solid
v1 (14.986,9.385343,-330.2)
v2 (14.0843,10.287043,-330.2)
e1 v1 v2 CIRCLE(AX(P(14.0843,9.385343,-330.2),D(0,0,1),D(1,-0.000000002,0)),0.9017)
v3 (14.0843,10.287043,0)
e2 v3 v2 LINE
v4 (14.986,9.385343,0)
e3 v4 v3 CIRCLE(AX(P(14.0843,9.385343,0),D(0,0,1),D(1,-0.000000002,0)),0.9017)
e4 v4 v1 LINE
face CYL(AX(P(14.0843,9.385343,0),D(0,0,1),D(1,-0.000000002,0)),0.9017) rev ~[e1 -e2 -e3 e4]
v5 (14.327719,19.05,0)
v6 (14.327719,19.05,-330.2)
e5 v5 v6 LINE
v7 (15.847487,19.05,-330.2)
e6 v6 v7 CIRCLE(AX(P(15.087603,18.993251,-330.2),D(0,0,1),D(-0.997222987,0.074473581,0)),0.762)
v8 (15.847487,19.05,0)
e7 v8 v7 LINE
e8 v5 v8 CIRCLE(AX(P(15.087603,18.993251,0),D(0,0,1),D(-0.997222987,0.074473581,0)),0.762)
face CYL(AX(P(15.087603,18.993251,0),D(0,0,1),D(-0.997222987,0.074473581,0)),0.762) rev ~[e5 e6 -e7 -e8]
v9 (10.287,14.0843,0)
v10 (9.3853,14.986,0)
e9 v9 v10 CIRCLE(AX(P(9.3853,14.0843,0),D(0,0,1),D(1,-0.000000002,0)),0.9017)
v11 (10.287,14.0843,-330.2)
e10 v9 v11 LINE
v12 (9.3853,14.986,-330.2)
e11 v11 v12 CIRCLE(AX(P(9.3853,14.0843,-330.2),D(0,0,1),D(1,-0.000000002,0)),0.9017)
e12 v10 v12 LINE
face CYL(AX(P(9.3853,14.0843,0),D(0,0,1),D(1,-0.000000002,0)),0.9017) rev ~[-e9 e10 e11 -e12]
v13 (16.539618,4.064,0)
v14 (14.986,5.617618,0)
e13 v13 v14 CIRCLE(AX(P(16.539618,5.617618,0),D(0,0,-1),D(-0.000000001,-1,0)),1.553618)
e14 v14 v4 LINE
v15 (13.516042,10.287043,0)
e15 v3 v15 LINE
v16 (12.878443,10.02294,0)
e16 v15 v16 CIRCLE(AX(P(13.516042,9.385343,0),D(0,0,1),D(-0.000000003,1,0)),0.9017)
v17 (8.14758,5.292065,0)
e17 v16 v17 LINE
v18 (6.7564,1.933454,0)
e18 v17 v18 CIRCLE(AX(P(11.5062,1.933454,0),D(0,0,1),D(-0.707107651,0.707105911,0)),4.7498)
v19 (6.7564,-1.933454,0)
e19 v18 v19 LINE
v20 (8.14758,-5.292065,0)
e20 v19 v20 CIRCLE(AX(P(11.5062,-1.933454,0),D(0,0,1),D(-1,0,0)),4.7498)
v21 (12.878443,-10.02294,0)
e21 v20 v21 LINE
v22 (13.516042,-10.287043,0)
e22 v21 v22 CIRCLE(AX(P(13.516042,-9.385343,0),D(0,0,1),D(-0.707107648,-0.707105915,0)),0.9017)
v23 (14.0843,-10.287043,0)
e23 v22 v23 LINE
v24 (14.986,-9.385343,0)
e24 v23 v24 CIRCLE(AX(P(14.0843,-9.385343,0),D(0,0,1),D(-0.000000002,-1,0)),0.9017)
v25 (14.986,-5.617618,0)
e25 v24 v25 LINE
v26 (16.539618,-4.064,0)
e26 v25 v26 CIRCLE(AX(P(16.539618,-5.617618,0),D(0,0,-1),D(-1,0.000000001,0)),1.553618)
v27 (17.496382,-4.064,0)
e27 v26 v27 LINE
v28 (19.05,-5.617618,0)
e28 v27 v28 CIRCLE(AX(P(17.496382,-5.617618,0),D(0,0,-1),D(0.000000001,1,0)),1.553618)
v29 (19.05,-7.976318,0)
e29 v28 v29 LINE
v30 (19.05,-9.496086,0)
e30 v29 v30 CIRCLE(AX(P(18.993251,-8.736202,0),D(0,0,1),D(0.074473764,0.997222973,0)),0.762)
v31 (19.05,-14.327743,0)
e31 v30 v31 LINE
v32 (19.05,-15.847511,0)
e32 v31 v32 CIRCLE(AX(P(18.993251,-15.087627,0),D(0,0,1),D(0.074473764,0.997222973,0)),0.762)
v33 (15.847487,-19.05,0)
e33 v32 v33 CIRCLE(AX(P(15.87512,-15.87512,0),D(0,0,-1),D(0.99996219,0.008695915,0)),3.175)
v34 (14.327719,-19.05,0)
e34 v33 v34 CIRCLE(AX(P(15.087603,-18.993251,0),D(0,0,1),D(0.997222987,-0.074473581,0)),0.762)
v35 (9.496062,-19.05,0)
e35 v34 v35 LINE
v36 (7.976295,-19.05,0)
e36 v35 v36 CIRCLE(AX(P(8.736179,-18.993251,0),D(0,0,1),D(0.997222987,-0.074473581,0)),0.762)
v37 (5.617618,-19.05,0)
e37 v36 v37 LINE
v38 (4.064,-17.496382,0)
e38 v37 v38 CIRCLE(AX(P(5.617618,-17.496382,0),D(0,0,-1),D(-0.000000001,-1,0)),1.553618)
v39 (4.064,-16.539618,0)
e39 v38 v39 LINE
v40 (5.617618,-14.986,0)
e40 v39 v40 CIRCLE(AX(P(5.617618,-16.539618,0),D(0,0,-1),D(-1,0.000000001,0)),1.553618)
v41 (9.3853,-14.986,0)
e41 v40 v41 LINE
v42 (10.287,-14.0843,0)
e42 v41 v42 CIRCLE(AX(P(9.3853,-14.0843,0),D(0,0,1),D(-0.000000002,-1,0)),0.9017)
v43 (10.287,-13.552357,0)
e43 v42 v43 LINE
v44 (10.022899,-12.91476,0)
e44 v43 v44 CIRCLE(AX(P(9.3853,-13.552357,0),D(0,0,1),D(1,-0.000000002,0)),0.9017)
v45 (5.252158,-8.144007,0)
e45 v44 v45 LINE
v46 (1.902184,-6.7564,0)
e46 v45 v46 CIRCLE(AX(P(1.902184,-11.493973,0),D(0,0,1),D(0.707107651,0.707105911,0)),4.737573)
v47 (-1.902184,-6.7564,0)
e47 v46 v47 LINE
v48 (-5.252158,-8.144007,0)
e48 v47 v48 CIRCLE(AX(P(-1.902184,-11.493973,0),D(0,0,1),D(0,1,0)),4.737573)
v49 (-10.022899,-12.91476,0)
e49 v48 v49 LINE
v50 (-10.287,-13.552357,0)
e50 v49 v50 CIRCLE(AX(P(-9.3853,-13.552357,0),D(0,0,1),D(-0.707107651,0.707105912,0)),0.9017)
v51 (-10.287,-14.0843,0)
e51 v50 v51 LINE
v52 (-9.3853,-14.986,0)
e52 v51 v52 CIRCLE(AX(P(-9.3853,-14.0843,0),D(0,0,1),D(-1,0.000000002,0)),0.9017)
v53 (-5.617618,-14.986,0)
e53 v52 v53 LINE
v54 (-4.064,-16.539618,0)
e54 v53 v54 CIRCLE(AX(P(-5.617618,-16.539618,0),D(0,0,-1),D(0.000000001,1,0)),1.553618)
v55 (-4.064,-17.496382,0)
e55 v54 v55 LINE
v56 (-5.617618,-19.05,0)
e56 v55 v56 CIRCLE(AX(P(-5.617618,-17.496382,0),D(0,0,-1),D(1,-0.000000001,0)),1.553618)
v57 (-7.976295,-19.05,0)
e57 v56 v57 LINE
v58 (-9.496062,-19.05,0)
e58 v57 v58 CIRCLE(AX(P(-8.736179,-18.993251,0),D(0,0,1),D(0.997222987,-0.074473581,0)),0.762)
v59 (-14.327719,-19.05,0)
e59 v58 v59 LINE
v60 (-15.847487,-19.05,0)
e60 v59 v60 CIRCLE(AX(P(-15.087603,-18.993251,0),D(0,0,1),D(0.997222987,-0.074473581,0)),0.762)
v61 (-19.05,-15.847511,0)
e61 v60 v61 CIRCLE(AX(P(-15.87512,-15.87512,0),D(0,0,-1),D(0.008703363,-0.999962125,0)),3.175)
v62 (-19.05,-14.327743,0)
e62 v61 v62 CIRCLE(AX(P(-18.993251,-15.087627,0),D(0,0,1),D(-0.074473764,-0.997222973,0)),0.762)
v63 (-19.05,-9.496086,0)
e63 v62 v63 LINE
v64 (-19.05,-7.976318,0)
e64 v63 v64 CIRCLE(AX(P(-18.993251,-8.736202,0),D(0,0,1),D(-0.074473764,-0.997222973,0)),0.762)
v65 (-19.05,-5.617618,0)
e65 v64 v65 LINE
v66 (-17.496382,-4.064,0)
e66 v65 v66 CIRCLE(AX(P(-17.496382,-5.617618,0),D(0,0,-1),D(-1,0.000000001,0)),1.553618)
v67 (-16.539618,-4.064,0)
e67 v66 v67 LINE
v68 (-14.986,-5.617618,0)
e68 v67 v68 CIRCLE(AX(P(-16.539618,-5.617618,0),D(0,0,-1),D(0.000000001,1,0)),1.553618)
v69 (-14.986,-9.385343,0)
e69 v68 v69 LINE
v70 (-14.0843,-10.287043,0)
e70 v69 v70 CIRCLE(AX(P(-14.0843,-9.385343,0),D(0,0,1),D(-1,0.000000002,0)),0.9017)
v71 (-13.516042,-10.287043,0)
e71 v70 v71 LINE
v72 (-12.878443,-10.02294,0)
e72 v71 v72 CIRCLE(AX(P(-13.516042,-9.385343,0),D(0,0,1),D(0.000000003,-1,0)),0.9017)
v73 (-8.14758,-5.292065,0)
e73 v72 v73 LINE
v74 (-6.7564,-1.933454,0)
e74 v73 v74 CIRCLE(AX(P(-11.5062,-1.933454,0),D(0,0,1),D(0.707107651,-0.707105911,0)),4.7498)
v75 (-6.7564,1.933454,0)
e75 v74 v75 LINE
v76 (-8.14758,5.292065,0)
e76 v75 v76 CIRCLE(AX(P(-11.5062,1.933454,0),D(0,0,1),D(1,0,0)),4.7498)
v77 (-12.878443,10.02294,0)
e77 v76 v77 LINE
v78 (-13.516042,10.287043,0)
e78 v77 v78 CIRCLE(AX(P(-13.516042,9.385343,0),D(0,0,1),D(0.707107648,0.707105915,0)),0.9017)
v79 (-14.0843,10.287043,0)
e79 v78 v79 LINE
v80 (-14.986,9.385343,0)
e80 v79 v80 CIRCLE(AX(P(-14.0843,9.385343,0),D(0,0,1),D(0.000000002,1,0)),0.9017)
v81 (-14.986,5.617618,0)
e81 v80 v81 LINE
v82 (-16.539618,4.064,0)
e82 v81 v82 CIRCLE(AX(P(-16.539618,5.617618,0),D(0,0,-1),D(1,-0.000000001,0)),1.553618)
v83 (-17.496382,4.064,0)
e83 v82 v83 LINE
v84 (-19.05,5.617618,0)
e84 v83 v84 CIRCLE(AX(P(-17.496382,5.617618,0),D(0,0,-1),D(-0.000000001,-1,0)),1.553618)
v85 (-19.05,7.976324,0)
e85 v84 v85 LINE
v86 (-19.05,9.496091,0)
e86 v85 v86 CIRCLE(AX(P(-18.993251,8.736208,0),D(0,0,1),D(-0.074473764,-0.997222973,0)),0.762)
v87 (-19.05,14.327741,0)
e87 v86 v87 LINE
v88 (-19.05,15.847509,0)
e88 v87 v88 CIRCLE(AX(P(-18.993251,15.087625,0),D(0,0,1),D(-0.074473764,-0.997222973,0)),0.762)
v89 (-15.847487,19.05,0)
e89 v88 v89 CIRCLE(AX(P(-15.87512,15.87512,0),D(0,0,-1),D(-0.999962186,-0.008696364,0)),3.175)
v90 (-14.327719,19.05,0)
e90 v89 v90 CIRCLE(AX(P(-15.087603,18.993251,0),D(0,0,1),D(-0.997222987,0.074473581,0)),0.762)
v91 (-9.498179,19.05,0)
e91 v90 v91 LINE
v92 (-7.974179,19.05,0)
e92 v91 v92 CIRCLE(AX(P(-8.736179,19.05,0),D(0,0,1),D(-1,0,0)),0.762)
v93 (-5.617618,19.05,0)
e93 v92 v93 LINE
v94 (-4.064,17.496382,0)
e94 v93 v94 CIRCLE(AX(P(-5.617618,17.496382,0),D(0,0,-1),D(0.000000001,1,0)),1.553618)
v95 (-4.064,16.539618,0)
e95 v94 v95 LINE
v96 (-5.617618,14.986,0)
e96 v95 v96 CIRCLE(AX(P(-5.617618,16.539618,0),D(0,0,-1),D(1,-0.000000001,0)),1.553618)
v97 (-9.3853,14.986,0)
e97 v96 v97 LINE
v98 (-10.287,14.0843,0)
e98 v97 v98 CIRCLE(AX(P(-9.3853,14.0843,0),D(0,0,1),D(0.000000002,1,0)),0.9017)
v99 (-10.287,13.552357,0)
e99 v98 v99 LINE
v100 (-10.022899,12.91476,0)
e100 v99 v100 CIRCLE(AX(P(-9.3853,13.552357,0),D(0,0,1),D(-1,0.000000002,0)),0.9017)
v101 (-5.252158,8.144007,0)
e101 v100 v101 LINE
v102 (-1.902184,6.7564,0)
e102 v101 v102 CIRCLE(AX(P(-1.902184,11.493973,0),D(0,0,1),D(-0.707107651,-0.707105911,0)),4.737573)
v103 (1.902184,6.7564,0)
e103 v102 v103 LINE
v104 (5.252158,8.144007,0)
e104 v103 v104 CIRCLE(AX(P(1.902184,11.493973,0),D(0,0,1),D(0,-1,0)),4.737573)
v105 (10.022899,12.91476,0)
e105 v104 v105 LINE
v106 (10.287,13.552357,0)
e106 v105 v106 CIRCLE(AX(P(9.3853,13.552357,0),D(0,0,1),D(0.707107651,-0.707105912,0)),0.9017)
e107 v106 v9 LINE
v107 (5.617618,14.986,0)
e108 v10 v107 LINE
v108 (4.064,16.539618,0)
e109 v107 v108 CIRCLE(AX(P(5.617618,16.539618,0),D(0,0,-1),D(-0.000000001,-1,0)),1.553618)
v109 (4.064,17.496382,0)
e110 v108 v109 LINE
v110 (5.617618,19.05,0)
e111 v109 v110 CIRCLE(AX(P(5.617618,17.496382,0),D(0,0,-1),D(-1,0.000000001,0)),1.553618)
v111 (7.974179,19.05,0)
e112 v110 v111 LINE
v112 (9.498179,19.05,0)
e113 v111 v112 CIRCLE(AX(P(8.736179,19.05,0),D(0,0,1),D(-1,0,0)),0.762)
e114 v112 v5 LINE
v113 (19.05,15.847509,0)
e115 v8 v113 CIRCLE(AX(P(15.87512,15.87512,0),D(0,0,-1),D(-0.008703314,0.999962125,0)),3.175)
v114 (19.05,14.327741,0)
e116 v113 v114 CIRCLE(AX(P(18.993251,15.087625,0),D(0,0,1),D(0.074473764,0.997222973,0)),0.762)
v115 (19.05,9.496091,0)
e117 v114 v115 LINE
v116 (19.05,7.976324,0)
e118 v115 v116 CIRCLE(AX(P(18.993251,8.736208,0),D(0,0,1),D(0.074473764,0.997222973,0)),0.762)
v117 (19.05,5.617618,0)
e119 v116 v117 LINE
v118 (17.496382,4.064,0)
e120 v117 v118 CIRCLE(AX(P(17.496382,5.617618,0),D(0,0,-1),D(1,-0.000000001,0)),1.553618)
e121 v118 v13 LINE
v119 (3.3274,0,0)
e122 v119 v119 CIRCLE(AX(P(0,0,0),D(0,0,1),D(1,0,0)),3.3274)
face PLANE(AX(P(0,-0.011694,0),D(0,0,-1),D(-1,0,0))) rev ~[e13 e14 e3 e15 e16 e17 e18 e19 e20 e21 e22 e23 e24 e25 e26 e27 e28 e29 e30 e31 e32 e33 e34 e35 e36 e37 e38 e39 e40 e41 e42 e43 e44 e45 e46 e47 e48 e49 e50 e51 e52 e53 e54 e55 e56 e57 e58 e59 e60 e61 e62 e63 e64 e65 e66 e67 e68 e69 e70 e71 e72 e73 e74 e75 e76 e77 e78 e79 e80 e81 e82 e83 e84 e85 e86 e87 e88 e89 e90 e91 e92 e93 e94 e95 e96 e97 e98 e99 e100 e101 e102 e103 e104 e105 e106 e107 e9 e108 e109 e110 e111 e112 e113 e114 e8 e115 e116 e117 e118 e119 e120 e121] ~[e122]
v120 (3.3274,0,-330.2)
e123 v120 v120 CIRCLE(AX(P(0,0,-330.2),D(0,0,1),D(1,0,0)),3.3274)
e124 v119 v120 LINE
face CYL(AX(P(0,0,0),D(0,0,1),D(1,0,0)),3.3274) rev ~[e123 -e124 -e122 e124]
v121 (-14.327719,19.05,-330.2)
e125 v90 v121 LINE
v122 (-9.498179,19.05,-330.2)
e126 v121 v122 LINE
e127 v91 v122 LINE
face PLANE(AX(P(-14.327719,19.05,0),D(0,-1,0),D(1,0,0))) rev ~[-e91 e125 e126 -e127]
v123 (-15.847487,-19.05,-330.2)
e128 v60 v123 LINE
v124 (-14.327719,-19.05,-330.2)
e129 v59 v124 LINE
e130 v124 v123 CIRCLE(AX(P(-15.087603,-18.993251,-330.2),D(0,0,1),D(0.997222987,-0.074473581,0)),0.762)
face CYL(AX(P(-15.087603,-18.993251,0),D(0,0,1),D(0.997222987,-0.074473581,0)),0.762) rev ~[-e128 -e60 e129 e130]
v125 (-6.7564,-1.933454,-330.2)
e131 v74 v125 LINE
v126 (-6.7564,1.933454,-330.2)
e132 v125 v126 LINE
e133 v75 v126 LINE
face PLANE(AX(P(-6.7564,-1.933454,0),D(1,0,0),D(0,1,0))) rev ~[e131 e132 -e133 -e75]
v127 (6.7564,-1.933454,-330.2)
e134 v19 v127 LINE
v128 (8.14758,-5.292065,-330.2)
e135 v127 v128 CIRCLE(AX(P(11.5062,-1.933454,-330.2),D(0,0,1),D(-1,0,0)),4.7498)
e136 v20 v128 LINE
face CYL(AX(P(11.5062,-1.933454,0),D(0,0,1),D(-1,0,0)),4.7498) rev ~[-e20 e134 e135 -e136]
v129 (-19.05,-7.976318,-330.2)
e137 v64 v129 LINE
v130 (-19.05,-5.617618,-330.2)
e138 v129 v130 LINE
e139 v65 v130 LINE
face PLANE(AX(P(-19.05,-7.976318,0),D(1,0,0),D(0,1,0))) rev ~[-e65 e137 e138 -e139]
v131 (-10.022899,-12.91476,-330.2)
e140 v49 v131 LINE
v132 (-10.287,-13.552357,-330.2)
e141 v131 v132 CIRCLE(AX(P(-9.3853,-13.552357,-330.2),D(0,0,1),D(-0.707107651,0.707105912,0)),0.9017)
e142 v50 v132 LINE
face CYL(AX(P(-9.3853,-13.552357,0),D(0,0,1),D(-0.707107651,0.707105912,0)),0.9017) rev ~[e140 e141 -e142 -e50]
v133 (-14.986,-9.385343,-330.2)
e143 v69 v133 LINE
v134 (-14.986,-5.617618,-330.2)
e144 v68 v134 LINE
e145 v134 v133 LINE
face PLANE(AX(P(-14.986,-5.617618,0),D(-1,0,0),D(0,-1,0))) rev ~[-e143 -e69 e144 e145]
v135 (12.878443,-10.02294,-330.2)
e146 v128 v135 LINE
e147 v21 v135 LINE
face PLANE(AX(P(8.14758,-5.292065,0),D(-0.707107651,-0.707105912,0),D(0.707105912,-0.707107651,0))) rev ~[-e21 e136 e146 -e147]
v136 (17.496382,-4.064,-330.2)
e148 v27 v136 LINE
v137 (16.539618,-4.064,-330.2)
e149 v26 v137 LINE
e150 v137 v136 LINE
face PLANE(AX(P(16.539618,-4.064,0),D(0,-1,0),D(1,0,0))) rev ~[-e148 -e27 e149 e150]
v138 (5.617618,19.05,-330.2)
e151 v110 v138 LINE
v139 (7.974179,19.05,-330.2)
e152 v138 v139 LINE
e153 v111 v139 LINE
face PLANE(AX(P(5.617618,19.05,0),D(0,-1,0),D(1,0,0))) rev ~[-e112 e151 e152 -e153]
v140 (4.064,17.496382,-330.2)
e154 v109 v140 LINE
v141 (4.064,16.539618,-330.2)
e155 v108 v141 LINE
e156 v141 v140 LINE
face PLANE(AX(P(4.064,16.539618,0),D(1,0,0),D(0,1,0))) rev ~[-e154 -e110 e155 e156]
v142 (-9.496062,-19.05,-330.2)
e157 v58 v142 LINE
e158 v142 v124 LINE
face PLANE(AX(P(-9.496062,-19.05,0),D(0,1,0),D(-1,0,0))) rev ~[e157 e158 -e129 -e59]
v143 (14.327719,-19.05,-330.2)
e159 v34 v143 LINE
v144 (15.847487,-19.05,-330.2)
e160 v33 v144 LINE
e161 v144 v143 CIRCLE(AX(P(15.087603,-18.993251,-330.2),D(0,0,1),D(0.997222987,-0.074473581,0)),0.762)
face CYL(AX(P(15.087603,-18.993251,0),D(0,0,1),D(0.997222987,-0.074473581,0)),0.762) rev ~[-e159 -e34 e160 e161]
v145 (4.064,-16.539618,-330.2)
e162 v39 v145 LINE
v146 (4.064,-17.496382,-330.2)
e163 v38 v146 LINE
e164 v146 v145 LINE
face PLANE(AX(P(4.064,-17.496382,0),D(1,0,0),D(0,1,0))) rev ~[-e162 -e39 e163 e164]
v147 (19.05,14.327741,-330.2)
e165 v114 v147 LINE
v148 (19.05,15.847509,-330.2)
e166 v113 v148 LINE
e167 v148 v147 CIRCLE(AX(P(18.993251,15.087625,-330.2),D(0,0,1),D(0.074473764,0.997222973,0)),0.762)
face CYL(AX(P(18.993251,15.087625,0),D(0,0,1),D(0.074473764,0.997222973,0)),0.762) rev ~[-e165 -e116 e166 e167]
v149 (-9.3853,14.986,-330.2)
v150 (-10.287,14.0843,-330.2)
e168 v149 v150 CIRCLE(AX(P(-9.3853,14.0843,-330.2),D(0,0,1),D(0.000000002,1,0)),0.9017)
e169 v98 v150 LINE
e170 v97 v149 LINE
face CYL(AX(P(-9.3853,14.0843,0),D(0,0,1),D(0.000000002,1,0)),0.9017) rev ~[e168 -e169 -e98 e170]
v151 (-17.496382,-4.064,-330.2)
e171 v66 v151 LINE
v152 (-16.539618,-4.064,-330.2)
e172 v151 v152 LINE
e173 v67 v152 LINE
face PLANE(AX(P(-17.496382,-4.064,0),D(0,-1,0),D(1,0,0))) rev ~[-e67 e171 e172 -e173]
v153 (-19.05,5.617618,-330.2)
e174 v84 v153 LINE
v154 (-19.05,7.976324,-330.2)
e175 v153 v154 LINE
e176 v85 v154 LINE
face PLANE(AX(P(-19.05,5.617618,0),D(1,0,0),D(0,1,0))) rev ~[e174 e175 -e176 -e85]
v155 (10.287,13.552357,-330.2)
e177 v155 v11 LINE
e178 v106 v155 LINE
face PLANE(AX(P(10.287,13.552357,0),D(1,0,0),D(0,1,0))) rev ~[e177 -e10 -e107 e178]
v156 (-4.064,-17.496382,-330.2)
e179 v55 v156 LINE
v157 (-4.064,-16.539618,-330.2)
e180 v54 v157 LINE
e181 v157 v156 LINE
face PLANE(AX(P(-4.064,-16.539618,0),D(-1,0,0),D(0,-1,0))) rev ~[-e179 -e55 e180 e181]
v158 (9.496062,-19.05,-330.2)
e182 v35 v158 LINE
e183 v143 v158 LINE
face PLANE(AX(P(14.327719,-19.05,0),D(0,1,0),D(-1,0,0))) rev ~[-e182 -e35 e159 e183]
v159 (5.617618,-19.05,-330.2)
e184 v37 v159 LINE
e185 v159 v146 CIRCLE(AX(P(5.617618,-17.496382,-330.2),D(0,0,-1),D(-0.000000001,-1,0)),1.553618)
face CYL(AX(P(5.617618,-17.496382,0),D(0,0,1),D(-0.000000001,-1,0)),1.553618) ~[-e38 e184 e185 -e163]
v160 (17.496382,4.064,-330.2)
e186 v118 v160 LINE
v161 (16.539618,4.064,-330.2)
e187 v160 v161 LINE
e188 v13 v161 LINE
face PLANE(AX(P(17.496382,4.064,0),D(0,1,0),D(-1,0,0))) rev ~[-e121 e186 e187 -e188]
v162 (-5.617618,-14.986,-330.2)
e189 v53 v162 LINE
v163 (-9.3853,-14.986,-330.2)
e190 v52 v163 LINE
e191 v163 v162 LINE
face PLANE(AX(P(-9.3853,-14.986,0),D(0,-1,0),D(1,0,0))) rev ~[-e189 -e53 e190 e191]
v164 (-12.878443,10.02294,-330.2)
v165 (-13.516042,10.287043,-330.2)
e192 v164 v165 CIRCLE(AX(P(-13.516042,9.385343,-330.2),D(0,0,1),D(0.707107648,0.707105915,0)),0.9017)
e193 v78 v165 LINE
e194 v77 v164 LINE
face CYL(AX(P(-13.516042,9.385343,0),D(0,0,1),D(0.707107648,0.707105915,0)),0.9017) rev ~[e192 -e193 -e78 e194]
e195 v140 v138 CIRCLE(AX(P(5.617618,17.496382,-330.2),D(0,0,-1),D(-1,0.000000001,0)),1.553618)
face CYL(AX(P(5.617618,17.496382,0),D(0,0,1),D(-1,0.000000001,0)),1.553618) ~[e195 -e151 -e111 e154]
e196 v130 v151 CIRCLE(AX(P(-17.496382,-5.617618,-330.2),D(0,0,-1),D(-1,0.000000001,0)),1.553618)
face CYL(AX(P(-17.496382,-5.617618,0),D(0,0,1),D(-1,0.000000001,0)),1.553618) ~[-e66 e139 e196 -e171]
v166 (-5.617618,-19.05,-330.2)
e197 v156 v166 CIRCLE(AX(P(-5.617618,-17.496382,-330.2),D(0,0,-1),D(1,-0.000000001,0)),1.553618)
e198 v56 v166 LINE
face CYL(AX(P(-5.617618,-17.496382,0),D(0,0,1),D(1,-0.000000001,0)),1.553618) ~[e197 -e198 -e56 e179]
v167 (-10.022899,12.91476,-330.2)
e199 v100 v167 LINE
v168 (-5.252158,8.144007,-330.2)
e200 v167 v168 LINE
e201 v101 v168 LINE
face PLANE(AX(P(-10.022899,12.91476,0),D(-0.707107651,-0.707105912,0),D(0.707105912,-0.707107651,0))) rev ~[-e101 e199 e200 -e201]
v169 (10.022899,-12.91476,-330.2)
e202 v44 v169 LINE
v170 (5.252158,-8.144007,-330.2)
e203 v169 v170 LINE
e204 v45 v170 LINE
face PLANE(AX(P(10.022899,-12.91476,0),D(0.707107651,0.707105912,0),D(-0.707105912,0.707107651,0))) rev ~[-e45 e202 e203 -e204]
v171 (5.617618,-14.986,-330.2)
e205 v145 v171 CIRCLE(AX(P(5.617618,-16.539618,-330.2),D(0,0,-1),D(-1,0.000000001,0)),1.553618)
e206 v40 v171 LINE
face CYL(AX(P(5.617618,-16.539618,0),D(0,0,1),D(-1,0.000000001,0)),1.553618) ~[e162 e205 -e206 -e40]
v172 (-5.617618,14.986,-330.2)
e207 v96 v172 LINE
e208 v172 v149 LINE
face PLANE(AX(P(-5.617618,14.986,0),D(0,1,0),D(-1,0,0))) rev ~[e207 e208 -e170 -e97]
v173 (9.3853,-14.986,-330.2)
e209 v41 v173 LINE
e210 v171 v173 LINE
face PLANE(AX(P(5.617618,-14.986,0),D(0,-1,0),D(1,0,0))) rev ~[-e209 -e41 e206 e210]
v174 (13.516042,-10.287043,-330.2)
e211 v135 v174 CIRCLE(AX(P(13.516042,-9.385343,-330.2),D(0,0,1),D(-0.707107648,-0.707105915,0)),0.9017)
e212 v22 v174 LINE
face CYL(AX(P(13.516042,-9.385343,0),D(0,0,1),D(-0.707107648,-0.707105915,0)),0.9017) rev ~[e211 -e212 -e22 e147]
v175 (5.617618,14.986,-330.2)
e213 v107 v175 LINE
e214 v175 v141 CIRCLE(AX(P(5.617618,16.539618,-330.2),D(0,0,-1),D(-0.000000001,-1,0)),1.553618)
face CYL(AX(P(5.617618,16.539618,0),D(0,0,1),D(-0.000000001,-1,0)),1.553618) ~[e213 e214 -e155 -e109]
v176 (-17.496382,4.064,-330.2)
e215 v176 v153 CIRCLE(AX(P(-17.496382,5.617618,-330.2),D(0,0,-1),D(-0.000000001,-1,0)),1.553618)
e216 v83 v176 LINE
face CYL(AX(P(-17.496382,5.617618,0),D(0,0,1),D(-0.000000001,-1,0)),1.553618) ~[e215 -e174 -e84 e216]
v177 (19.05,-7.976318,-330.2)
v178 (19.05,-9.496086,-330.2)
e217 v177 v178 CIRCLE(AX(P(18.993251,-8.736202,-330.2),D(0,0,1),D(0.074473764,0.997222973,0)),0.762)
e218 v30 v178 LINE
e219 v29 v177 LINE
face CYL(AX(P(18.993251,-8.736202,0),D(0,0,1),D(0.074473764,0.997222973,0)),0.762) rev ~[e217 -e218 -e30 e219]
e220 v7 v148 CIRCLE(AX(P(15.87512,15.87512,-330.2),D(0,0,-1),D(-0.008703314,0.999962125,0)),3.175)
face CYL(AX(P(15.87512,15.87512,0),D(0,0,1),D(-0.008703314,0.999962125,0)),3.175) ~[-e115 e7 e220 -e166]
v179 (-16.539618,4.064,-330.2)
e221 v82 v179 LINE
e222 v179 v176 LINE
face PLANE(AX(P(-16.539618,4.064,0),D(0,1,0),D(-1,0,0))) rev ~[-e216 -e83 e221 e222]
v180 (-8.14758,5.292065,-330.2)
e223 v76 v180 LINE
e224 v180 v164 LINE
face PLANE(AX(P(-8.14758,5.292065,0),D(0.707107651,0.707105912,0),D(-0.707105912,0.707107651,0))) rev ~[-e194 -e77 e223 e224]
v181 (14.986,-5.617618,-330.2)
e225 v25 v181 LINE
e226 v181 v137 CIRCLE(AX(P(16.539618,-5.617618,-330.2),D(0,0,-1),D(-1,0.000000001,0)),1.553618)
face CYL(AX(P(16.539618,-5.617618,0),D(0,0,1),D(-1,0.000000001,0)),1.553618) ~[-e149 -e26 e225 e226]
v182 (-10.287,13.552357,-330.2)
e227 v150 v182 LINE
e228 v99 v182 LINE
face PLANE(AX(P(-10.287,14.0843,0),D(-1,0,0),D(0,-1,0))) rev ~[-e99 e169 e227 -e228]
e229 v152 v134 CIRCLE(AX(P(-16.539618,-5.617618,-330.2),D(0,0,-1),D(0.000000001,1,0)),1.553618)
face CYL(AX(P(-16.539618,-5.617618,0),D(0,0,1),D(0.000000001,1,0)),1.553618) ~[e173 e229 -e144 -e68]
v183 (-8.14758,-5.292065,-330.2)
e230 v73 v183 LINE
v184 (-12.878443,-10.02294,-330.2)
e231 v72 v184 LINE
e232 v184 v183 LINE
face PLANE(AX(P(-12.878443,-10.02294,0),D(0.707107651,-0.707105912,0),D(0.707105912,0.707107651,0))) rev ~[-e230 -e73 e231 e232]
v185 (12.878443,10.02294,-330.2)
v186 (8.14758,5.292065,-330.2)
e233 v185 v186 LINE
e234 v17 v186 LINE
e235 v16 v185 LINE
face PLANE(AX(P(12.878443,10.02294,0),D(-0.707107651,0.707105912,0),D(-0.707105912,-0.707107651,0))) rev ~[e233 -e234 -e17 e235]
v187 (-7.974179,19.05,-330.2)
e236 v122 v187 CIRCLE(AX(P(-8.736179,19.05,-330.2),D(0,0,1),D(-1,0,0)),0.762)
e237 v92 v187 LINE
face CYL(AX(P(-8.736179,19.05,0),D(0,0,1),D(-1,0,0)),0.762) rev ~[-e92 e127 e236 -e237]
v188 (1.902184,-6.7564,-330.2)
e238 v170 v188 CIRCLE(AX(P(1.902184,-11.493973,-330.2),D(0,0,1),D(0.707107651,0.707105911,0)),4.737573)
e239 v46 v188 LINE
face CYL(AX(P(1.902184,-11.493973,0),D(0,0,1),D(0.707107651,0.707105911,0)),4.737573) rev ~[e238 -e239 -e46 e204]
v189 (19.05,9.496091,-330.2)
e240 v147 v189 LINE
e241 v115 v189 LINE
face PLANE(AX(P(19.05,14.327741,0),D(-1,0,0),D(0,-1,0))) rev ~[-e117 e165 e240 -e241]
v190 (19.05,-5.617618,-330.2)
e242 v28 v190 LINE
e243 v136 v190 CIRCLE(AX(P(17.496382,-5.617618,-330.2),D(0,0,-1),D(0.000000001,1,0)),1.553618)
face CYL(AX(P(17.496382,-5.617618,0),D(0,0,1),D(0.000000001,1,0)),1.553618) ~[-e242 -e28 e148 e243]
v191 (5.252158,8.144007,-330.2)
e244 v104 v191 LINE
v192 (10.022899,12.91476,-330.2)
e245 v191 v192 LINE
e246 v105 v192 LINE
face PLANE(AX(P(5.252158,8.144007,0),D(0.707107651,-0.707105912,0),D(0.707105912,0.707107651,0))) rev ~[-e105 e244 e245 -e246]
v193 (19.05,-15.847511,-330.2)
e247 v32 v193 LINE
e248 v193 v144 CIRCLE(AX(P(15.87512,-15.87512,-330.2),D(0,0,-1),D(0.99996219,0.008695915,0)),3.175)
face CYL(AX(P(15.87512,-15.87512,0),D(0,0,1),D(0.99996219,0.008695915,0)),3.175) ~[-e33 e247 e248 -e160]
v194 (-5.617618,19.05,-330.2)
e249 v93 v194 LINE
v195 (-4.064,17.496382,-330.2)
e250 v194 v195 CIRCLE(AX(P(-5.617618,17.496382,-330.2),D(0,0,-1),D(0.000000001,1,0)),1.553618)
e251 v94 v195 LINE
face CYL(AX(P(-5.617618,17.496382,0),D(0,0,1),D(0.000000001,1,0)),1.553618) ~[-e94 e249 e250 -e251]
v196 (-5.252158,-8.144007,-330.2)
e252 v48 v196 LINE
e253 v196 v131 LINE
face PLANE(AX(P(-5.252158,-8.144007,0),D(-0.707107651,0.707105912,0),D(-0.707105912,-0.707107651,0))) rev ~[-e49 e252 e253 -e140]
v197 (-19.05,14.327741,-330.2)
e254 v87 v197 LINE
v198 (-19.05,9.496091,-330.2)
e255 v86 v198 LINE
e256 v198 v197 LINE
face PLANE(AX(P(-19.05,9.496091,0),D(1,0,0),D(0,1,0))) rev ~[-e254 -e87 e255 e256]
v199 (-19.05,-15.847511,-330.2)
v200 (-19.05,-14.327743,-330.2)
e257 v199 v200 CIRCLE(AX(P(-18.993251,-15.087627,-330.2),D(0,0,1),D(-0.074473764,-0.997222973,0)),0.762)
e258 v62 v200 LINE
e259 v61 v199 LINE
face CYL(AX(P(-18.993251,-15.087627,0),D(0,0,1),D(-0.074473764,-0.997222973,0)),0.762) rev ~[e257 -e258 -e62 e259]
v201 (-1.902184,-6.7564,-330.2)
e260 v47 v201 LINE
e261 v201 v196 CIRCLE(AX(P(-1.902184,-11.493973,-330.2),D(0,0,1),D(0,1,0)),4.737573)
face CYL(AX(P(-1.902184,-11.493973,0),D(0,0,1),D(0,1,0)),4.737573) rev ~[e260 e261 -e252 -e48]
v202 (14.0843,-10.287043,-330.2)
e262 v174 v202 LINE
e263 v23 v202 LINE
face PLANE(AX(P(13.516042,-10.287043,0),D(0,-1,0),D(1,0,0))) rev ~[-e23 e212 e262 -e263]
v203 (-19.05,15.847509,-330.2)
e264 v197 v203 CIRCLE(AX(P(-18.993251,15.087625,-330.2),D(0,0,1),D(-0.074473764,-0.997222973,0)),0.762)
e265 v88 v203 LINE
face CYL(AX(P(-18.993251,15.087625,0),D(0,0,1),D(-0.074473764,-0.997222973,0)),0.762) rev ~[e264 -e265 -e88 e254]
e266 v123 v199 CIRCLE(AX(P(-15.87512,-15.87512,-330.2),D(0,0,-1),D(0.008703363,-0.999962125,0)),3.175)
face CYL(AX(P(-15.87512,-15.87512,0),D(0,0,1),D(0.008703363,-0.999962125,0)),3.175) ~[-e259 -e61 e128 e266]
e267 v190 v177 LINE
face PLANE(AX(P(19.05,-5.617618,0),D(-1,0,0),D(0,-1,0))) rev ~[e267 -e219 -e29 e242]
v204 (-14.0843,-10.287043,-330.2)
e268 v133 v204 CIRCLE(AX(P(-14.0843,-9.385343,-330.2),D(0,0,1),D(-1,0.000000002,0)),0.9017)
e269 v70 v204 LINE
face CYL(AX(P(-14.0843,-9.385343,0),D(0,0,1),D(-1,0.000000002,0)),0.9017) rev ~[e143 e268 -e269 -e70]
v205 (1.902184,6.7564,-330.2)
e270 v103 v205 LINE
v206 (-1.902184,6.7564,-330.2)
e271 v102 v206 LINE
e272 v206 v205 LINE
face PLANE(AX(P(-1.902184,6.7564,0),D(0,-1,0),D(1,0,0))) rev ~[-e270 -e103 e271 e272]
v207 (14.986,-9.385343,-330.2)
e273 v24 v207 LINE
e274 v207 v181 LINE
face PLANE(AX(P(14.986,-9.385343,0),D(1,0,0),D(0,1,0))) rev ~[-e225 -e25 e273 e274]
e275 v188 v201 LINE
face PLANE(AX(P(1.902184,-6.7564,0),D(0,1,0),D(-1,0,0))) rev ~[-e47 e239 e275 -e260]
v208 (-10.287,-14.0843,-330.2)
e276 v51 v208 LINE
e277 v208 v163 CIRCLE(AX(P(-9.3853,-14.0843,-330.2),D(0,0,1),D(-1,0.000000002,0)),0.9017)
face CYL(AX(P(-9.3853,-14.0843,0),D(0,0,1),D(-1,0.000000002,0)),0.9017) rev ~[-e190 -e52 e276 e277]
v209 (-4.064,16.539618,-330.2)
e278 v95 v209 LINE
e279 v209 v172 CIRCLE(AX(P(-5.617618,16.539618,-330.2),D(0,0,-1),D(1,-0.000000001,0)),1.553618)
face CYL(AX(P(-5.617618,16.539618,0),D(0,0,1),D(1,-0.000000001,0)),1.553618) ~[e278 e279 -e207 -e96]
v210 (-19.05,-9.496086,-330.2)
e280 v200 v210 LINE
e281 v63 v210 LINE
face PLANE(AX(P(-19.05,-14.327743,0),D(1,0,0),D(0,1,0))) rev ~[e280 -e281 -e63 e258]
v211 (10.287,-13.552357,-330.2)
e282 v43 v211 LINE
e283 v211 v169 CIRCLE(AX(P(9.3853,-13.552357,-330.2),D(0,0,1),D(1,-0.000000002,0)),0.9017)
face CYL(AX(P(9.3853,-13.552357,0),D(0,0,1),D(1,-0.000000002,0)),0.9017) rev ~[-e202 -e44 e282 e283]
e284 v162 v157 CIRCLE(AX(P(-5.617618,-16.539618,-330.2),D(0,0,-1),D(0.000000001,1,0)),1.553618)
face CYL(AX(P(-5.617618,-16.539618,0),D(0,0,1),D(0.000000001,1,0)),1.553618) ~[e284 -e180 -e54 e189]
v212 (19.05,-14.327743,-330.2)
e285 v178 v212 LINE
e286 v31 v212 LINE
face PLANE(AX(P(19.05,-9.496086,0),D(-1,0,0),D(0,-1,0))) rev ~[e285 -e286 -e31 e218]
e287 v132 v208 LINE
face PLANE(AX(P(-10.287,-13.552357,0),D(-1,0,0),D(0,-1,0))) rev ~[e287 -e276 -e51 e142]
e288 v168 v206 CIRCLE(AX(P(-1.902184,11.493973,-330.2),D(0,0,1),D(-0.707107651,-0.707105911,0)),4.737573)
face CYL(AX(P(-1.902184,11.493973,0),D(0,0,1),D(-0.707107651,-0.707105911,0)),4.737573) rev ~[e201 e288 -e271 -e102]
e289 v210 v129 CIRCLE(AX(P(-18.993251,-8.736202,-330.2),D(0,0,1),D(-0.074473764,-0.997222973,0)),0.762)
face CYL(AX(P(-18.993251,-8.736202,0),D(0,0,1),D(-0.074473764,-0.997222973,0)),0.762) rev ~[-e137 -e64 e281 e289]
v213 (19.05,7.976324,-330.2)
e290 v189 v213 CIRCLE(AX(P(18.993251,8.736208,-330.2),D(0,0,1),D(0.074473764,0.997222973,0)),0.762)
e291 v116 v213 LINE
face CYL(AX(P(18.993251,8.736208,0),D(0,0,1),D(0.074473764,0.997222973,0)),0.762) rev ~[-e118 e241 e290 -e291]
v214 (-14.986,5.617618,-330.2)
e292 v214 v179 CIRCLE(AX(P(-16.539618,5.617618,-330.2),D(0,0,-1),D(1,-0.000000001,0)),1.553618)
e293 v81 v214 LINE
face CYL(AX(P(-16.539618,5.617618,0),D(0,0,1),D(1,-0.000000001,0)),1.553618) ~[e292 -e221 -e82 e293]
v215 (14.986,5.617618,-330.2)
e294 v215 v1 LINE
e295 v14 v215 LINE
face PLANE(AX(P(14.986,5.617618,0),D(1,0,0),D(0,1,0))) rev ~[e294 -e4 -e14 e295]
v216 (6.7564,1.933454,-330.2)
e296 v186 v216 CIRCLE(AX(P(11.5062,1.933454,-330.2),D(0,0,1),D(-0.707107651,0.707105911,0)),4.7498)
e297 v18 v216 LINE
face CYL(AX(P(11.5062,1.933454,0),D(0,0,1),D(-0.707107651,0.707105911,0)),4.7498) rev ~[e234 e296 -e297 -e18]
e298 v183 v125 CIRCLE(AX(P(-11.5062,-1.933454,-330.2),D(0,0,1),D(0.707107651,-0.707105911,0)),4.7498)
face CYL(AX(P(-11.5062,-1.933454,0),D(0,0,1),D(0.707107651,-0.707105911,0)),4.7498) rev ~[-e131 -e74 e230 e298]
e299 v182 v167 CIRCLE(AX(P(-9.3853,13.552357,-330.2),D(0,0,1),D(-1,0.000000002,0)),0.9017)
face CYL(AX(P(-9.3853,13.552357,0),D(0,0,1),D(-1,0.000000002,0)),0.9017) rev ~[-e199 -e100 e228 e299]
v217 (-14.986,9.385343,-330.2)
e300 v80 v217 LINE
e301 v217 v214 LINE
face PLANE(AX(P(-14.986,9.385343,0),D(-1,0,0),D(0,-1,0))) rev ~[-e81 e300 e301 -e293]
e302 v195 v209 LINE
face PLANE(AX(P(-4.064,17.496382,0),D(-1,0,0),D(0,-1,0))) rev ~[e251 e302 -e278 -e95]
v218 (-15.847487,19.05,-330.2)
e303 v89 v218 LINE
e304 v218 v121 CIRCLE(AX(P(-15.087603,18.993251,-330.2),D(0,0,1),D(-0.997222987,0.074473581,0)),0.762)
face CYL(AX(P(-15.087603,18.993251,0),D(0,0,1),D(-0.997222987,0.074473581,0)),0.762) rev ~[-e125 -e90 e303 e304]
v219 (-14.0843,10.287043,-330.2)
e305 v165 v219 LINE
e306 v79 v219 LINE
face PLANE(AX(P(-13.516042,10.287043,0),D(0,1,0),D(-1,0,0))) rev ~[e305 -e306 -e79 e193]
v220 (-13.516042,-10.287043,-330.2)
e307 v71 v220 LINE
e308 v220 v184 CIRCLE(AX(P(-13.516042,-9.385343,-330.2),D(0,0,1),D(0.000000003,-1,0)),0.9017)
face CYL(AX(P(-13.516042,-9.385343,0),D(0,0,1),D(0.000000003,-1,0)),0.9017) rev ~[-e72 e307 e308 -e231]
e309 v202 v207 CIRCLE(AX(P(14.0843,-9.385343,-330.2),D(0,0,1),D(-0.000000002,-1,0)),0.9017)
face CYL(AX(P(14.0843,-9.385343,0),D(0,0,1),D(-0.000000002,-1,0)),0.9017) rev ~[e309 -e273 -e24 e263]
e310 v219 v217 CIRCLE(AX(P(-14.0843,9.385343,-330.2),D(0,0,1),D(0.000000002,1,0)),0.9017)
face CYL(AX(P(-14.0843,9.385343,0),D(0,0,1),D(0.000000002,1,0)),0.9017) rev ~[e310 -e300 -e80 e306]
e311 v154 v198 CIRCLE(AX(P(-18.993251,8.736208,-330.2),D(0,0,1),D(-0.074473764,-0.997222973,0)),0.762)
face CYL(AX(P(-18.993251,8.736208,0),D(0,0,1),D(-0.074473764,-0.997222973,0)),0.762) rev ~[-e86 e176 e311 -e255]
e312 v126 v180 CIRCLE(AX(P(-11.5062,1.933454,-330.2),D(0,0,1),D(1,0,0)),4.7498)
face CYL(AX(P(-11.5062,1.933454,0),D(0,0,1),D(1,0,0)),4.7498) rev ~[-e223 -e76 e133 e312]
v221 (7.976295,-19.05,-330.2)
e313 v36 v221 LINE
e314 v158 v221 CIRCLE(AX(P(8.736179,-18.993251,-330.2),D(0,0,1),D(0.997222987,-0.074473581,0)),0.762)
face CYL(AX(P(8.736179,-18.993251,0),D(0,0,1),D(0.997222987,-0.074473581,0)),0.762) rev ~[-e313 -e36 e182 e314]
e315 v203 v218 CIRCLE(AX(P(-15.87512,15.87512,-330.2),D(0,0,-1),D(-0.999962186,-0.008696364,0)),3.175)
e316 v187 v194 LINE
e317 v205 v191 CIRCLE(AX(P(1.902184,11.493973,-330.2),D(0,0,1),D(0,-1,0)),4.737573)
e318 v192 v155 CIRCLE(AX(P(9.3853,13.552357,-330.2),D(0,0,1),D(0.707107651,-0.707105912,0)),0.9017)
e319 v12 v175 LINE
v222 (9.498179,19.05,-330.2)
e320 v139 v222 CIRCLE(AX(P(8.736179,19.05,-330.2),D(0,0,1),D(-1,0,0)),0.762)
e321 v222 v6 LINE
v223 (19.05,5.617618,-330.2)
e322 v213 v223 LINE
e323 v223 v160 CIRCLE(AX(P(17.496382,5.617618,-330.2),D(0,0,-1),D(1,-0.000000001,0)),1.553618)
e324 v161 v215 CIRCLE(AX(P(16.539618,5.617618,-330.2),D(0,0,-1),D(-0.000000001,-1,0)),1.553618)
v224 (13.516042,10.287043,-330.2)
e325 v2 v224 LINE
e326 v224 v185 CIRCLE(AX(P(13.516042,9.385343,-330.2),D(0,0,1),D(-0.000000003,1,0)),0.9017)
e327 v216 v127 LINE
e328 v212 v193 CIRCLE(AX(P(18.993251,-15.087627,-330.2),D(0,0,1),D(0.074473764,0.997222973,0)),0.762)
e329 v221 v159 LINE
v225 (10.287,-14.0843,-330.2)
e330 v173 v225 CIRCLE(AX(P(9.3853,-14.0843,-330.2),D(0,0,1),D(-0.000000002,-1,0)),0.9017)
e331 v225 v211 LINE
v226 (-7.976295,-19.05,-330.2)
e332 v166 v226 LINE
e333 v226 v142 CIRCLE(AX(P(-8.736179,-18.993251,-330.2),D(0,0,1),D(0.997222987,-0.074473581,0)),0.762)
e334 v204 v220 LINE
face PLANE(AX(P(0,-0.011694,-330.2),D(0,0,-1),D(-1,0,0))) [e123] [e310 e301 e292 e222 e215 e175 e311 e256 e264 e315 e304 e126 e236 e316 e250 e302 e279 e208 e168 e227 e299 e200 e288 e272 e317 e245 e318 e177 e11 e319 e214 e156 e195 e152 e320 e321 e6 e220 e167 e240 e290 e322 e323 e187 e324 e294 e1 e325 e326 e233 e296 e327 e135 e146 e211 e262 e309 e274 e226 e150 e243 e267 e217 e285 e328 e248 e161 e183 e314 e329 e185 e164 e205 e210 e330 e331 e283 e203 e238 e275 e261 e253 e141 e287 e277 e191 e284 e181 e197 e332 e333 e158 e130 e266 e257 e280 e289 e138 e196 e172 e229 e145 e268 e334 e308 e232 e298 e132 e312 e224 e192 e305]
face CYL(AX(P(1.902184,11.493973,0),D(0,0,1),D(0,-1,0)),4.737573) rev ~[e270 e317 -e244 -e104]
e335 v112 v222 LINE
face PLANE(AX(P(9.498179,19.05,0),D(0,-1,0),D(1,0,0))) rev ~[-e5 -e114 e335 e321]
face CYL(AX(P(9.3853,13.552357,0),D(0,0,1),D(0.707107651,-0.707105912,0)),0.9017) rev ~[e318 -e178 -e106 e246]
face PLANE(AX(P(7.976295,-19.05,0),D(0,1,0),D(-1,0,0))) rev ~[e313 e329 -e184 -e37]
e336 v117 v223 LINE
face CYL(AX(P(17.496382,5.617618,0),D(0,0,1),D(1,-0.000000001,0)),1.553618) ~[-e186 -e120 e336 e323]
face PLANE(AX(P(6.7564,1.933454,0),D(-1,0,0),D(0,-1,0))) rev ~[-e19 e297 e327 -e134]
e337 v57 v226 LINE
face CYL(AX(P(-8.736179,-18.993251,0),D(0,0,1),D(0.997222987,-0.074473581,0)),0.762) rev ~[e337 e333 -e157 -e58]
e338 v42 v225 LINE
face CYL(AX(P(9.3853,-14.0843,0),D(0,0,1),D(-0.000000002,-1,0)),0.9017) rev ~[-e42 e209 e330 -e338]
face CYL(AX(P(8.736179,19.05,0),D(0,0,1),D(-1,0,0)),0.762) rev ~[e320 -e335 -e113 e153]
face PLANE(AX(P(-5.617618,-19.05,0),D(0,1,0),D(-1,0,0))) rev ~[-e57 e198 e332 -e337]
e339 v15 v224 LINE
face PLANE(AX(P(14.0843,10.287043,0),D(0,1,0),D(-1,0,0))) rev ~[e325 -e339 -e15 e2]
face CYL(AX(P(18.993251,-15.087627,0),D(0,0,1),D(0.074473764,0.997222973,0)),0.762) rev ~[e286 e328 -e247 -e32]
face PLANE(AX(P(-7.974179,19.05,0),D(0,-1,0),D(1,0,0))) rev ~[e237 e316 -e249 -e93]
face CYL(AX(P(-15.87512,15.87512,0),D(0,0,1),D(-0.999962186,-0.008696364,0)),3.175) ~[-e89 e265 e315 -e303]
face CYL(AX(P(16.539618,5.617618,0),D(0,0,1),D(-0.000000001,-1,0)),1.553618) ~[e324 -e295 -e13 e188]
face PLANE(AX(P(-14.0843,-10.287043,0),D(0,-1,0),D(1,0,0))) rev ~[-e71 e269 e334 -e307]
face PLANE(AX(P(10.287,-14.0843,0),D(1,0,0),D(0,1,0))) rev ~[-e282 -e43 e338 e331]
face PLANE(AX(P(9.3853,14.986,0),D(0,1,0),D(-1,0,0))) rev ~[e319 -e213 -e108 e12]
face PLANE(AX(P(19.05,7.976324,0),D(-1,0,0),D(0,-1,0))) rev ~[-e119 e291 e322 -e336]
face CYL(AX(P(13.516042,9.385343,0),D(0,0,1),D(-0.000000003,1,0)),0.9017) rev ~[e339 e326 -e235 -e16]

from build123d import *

# Parameters (mm, degrees)
SKETCH1_R      = 3.3274
EXTRUDE1_DEPTH = 330.2


with BuildPart() as part:
    # Sketch1 → Extrude1 (new body)
    with BuildSketch(Plane.XY):
        with BuildLine():
            Line((-10.022898969, 12.91475973), (-5.252158105, 8.144007132))
            ThreePointArc((-5.252158105, 8.144007132), (-3.715177372, 7.117027388), (-1.902183975, 6.7564))
            Line((-1.902183975, 6.7564), (1.902183975, 6.7564))
            ThreePointArc((1.902183975, 6.7564), (3.715177372, 7.117027388), (5.252158105, 8.144007132))
            Line((5.252158105, 8.144007132), (10.022898969, 12.91475973))
            ThreePointArc((10.022898969, 12.91475973), (10.218362387, 13.207291992), (10.287, 13.552357131))
            Line((10.287, 13.552357131), (10.287, 14.0843))
            ThreePointArc((10.287, 14.0843), (10.022898185, 14.721898185), (9.3853, 14.986))
            Line((9.3853, 14.986), (5.617617549, 14.986))
            ThreePointArc((5.617617549, 14.986), (4.519044045, 15.441044045), (4.064, 16.539617549))
            Line((4.064, 16.539617549), (4.064, 17.496382451))
            ThreePointArc((4.064, 17.496382451), (4.519044045, 18.594955955), (5.617617549, 19.05))
            Line((5.617617549, 19.05), (7.974178704, 19.05))
            ThreePointArc((7.974178704, 19.05), (8.736178704, 18.288), (9.498178704, 19.05))
            Line((9.498178704, 19.05), (14.327719207, 19.05))
            ThreePointArc((14.327719207, 19.05), (15.087603123, 18.231251131), (15.847487039, 19.05))
            ThreePointArc((15.847487039, 19.05), (18.120176289, 18.120192083), (19.05, 15.847509295))
            ThreePointArc((19.05, 15.847509295), (18.231250992, 15.08762539), (19.05, 14.327741484))
            Line((19.05, 14.327741484), (19.05, 9.496091471))
            ThreePointArc((19.05, 9.496091471), (18.231250992, 8.736207565), (19.05, 7.97632366))
            Line((19.05, 7.97632366), (19.05, 5.617617549))
            ThreePointArc((19.05, 5.617617549), (18.594955955, 4.519044045), (17.496382451, 4.064))
            Line((17.496382451, 4.064), (16.539617549, 4.064))
            ThreePointArc((16.539617549, 4.064), (15.441044045, 4.519044045), (14.986, 5.617617549))
            Line((14.986, 5.617617549), (14.986, 9.385342516))
            ThreePointArc((14.986, 9.385342516), (14.721898185, 10.022940701), (14.0843, 10.287042516))
            Line((14.0843, 10.287042516), (13.516042086, 10.287042516))
            ThreePointArc((13.516042086, 10.287042516), (13.170975923, 10.218404478), (12.878443117, 10.022939917))
            Line((12.878443117, 10.022939917), (8.14758008, 5.292065243))
            ThreePointArc((8.14758008, 5.292065243), (7.117955879, 3.751120653), (6.7564, 1.933453584))
            Line((6.7564, 1.933453584), (6.7564, -1.933453584))
            ThreePointArc((6.7564, -1.933453584), (7.117955879, -3.751120653), (8.14758008, -5.292065243))
            Line((8.14758008, -5.292065243), (12.878443117, -10.022939917))
            ThreePointArc((12.878443117, -10.022939917), (13.170975923, -10.218404478), (13.516042086, -10.287042516))
            Line((13.516042086, -10.287042516), (14.0843, -10.287042516))
            ThreePointArc((14.0843, -10.287042516), (14.721898185, -10.022940701), (14.986, -9.385342516))
            Line((14.986, -9.385342516), (14.986, -5.617617549))
            ThreePointArc((14.986, -5.617617549), (15.441044045, -4.519044045), (16.539617549, -4.064))
            Line((16.539617549, -4.064), (17.496382451, -4.064))
            ThreePointArc((17.496382451, -4.064), (18.594955955, -4.519044045), (19.05, -5.617617549))
            Line((19.05, -5.617617549), (19.05, -7.976318491))
            ThreePointArc((19.05, -7.976318491), (18.231250992, -8.736202396), (19.05, -9.496086302))
            Line((19.05, -9.496086302), (19.05, -14.32774291))
            ThreePointArc((19.05, -14.32774291), (18.231250992, -15.087626816), (19.05, -15.847510721))
            ThreePointArc((19.05, -15.847510721), (18.120175716, -18.120192644), (15.847486868, -19.05))
            ThreePointArc((15.847486868, -19.05), (15.087602952, -18.231251131), (14.327719036, -19.05))
            Line((14.327719036, -19.05), (9.496062448, -19.05))
            ThreePointArc((9.496062448, -19.05), (8.736178532, -18.231251131), (7.976294616, -19.05))
            Line((7.976294616, -19.05), (5.617617549, -19.05))
            ThreePointArc((5.617617549, -19.05), (4.519044045, -18.594955955), (4.064, -17.496382451))
            Line((4.064, -17.496382451), (4.064, -16.539617549))
            ThreePointArc((4.064, -16.539617549), (4.519044045, -15.441044045), (5.617617549, -14.986))
            Line((5.617617549, -14.986), (9.3853, -14.986))
            ThreePointArc((9.3853, -14.986), (10.022898185, -14.721898185), (10.287, -14.0843))
            Line((10.287, -14.0843), (10.287, -13.552357131))
            ThreePointArc((10.287, -13.552357131), (10.218362387, -13.207291992), (10.022898969, -12.91475973))
            Line((10.022898969, -12.91475973), (5.252158105, -8.144007132))
            ThreePointArc((5.252158105, -8.144007132), (3.715177372, -7.117027388), (1.902183975, -6.7564))
            Line((1.902183975, -6.7564), (-1.902183975, -6.7564))
            ThreePointArc((-1.902183975, -6.7564), (-3.715177372, -7.117027388), (-5.252158105, -8.144007132))
            Line((-5.252158105, -8.144007132), (-10.022898969, -12.91475973))
            ThreePointArc((-10.022898969, -12.91475973), (-10.218362387, -13.207291992), (-10.287, -13.552357131))
            Line((-10.287, -13.552357131), (-10.287, -14.0843))
            ThreePointArc((-10.287, -14.0843), (-10.022898185, -14.721898185), (-9.3853, -14.986))
            Line((-9.3853, -14.986), (-5.617617549, -14.986))
            ThreePointArc((-5.617617549, -14.986), (-4.519044045, -15.441044045), (-4.064, -16.539617549))
            Line((-4.064, -16.539617549), (-4.064, -17.496382451))
            ThreePointArc((-4.064, -17.496382451), (-4.519044045, -18.594955955), (-5.617617549, -19.05))
            Line((-5.617617549, -19.05), (-7.976294616, -19.05))
            ThreePointArc((-7.976294616, -19.05), (-8.736178532, -18.231251131), (-9.496062448, -19.05))
            Line((-9.496062448, -19.05), (-14.327719036, -19.05))
            ThreePointArc((-14.327719036, -19.05), (-15.087602952, -18.231251131), (-15.847486868, -19.05))
            ThreePointArc((-15.847486868, -19.05), (-18.120175716, -18.120192644), (-19.05, -15.847510721))
            ThreePointArc((-19.05, -15.847510721), (-18.231250992, -15.087626816), (-19.05, -14.32774291))
            Line((-19.05, -14.32774291), (-19.05, -9.496086302))
            ThreePointArc((-19.05, -9.496086302), (-18.231250992, -8.736202396), (-19.05, -7.976318491))
            Line((-19.05, -7.976318491), (-19.05, -5.617617549))
            ThreePointArc((-19.05, -5.617617549), (-18.594955955, -4.519044045), (-17.496382451, -4.064))
            Line((-17.496382451, -4.064), (-16.539617549, -4.064))
            ThreePointArc((-16.539617549, -4.064), (-15.441044045, -4.519044045), (-14.986, -5.617617549))
            Line((-14.986, -5.617617549), (-14.986, -9.385342516))
            ThreePointArc((-14.986, -9.385342516), (-14.721898185, -10.022940701), (-14.0843, -10.287042516))
            Line((-14.0843, -10.287042516), (-13.516042086, -10.287042516))
            ThreePointArc((-13.516042086, -10.287042516), (-13.170975923, -10.218404478), (-12.878443117, -10.022939917))
            Line((-12.878443117, -10.022939917), (-8.14758008, -5.292065243))
            ThreePointArc((-8.14758008, -5.292065243), (-7.117955879, -3.751120653), (-6.7564, -1.933453584))
            Line((-6.7564, -1.933453584), (-6.7564, 1.933453584))
            ThreePointArc((-6.7564, 1.933453584), (-7.117955879, 3.751120653), (-8.14758008, 5.292065243))
            Line((-8.14758008, 5.292065243), (-12.878443117, 10.022939917))
            ThreePointArc((-12.878443117, 10.022939917), (-13.170975923, 10.218404478), (-13.516042086, 10.287042516))
            Line((-13.516042086, 10.287042516), (-14.0843, 10.287042516))
            ThreePointArc((-14.0843, 10.287042516), (-14.721898185, 10.022940701), (-14.986, 9.385342516))
            Line((-14.986, 9.385342516), (-14.986, 5.617617549))
            ThreePointArc((-14.986, 5.617617549), (-15.441044045, 4.519044045), (-16.539617549, 4.064))
            Line((-16.539617549, 4.064), (-17.496382451, 4.064))
            ThreePointArc((-17.496382451, 4.064), (-18.594955955, 4.519044045), (-19.05, 5.617617549))
            Line((-19.05, 5.617617549), (-19.05, 7.97632366))
            ThreePointArc((-19.05, 7.97632366), (-18.231250992, 8.736207565), (-19.05, 9.496091471))
            Line((-19.05, 9.496091471), (-19.05, 14.327741484))
            ThreePointArc((-19.05, 14.327741484), (-18.231250992, 15.08762539), (-19.05, 15.847509295))
            ThreePointArc((-19.05, 15.847509295), (-18.120176289, 18.120192083), (-15.847487039, 19.05))
            ThreePointArc((-15.847487039, 19.05), (-15.087603123, 18.231251131), (-14.327719207, 19.05))
            Line((-14.327719207, 19.05), (-9.498178704, 19.05))
            ThreePointArc((-9.498178704, 19.05), (-8.736178704, 18.288), (-7.974178704, 19.05))
            Line((-7.974178704, 19.05), (-5.617617549, 19.05))
            ThreePointArc((-5.617617549, 19.05), (-4.519044045, 18.594955955), (-4.064, 17.496382451))
            Line((-4.064, 17.496382451), (-4.064, 16.539617549))
            ThreePointArc((-4.064, 16.539617549), (-4.519044045, 15.441044045), (-5.617617549, 14.986))
            Line((-5.617617549, 14.986), (-9.3853, 14.986))
            ThreePointArc((-9.3853, 14.986), (-10.022898185, 14.721898185), (-10.287, 14.0843))
            Line((-10.287, 14.0843), (-10.287, 13.552357131))
            ThreePointArc((-10.287, 13.552357131), (-10.218362387, 13.207291992), (-10.022898969, 12.91475973))
        make_face()
        Circle(SKETCH1_R, mode=Mode.SUBTRACT)
    extrude(amount=-EXTRUDE1_DEPTH)


solid = part.part
